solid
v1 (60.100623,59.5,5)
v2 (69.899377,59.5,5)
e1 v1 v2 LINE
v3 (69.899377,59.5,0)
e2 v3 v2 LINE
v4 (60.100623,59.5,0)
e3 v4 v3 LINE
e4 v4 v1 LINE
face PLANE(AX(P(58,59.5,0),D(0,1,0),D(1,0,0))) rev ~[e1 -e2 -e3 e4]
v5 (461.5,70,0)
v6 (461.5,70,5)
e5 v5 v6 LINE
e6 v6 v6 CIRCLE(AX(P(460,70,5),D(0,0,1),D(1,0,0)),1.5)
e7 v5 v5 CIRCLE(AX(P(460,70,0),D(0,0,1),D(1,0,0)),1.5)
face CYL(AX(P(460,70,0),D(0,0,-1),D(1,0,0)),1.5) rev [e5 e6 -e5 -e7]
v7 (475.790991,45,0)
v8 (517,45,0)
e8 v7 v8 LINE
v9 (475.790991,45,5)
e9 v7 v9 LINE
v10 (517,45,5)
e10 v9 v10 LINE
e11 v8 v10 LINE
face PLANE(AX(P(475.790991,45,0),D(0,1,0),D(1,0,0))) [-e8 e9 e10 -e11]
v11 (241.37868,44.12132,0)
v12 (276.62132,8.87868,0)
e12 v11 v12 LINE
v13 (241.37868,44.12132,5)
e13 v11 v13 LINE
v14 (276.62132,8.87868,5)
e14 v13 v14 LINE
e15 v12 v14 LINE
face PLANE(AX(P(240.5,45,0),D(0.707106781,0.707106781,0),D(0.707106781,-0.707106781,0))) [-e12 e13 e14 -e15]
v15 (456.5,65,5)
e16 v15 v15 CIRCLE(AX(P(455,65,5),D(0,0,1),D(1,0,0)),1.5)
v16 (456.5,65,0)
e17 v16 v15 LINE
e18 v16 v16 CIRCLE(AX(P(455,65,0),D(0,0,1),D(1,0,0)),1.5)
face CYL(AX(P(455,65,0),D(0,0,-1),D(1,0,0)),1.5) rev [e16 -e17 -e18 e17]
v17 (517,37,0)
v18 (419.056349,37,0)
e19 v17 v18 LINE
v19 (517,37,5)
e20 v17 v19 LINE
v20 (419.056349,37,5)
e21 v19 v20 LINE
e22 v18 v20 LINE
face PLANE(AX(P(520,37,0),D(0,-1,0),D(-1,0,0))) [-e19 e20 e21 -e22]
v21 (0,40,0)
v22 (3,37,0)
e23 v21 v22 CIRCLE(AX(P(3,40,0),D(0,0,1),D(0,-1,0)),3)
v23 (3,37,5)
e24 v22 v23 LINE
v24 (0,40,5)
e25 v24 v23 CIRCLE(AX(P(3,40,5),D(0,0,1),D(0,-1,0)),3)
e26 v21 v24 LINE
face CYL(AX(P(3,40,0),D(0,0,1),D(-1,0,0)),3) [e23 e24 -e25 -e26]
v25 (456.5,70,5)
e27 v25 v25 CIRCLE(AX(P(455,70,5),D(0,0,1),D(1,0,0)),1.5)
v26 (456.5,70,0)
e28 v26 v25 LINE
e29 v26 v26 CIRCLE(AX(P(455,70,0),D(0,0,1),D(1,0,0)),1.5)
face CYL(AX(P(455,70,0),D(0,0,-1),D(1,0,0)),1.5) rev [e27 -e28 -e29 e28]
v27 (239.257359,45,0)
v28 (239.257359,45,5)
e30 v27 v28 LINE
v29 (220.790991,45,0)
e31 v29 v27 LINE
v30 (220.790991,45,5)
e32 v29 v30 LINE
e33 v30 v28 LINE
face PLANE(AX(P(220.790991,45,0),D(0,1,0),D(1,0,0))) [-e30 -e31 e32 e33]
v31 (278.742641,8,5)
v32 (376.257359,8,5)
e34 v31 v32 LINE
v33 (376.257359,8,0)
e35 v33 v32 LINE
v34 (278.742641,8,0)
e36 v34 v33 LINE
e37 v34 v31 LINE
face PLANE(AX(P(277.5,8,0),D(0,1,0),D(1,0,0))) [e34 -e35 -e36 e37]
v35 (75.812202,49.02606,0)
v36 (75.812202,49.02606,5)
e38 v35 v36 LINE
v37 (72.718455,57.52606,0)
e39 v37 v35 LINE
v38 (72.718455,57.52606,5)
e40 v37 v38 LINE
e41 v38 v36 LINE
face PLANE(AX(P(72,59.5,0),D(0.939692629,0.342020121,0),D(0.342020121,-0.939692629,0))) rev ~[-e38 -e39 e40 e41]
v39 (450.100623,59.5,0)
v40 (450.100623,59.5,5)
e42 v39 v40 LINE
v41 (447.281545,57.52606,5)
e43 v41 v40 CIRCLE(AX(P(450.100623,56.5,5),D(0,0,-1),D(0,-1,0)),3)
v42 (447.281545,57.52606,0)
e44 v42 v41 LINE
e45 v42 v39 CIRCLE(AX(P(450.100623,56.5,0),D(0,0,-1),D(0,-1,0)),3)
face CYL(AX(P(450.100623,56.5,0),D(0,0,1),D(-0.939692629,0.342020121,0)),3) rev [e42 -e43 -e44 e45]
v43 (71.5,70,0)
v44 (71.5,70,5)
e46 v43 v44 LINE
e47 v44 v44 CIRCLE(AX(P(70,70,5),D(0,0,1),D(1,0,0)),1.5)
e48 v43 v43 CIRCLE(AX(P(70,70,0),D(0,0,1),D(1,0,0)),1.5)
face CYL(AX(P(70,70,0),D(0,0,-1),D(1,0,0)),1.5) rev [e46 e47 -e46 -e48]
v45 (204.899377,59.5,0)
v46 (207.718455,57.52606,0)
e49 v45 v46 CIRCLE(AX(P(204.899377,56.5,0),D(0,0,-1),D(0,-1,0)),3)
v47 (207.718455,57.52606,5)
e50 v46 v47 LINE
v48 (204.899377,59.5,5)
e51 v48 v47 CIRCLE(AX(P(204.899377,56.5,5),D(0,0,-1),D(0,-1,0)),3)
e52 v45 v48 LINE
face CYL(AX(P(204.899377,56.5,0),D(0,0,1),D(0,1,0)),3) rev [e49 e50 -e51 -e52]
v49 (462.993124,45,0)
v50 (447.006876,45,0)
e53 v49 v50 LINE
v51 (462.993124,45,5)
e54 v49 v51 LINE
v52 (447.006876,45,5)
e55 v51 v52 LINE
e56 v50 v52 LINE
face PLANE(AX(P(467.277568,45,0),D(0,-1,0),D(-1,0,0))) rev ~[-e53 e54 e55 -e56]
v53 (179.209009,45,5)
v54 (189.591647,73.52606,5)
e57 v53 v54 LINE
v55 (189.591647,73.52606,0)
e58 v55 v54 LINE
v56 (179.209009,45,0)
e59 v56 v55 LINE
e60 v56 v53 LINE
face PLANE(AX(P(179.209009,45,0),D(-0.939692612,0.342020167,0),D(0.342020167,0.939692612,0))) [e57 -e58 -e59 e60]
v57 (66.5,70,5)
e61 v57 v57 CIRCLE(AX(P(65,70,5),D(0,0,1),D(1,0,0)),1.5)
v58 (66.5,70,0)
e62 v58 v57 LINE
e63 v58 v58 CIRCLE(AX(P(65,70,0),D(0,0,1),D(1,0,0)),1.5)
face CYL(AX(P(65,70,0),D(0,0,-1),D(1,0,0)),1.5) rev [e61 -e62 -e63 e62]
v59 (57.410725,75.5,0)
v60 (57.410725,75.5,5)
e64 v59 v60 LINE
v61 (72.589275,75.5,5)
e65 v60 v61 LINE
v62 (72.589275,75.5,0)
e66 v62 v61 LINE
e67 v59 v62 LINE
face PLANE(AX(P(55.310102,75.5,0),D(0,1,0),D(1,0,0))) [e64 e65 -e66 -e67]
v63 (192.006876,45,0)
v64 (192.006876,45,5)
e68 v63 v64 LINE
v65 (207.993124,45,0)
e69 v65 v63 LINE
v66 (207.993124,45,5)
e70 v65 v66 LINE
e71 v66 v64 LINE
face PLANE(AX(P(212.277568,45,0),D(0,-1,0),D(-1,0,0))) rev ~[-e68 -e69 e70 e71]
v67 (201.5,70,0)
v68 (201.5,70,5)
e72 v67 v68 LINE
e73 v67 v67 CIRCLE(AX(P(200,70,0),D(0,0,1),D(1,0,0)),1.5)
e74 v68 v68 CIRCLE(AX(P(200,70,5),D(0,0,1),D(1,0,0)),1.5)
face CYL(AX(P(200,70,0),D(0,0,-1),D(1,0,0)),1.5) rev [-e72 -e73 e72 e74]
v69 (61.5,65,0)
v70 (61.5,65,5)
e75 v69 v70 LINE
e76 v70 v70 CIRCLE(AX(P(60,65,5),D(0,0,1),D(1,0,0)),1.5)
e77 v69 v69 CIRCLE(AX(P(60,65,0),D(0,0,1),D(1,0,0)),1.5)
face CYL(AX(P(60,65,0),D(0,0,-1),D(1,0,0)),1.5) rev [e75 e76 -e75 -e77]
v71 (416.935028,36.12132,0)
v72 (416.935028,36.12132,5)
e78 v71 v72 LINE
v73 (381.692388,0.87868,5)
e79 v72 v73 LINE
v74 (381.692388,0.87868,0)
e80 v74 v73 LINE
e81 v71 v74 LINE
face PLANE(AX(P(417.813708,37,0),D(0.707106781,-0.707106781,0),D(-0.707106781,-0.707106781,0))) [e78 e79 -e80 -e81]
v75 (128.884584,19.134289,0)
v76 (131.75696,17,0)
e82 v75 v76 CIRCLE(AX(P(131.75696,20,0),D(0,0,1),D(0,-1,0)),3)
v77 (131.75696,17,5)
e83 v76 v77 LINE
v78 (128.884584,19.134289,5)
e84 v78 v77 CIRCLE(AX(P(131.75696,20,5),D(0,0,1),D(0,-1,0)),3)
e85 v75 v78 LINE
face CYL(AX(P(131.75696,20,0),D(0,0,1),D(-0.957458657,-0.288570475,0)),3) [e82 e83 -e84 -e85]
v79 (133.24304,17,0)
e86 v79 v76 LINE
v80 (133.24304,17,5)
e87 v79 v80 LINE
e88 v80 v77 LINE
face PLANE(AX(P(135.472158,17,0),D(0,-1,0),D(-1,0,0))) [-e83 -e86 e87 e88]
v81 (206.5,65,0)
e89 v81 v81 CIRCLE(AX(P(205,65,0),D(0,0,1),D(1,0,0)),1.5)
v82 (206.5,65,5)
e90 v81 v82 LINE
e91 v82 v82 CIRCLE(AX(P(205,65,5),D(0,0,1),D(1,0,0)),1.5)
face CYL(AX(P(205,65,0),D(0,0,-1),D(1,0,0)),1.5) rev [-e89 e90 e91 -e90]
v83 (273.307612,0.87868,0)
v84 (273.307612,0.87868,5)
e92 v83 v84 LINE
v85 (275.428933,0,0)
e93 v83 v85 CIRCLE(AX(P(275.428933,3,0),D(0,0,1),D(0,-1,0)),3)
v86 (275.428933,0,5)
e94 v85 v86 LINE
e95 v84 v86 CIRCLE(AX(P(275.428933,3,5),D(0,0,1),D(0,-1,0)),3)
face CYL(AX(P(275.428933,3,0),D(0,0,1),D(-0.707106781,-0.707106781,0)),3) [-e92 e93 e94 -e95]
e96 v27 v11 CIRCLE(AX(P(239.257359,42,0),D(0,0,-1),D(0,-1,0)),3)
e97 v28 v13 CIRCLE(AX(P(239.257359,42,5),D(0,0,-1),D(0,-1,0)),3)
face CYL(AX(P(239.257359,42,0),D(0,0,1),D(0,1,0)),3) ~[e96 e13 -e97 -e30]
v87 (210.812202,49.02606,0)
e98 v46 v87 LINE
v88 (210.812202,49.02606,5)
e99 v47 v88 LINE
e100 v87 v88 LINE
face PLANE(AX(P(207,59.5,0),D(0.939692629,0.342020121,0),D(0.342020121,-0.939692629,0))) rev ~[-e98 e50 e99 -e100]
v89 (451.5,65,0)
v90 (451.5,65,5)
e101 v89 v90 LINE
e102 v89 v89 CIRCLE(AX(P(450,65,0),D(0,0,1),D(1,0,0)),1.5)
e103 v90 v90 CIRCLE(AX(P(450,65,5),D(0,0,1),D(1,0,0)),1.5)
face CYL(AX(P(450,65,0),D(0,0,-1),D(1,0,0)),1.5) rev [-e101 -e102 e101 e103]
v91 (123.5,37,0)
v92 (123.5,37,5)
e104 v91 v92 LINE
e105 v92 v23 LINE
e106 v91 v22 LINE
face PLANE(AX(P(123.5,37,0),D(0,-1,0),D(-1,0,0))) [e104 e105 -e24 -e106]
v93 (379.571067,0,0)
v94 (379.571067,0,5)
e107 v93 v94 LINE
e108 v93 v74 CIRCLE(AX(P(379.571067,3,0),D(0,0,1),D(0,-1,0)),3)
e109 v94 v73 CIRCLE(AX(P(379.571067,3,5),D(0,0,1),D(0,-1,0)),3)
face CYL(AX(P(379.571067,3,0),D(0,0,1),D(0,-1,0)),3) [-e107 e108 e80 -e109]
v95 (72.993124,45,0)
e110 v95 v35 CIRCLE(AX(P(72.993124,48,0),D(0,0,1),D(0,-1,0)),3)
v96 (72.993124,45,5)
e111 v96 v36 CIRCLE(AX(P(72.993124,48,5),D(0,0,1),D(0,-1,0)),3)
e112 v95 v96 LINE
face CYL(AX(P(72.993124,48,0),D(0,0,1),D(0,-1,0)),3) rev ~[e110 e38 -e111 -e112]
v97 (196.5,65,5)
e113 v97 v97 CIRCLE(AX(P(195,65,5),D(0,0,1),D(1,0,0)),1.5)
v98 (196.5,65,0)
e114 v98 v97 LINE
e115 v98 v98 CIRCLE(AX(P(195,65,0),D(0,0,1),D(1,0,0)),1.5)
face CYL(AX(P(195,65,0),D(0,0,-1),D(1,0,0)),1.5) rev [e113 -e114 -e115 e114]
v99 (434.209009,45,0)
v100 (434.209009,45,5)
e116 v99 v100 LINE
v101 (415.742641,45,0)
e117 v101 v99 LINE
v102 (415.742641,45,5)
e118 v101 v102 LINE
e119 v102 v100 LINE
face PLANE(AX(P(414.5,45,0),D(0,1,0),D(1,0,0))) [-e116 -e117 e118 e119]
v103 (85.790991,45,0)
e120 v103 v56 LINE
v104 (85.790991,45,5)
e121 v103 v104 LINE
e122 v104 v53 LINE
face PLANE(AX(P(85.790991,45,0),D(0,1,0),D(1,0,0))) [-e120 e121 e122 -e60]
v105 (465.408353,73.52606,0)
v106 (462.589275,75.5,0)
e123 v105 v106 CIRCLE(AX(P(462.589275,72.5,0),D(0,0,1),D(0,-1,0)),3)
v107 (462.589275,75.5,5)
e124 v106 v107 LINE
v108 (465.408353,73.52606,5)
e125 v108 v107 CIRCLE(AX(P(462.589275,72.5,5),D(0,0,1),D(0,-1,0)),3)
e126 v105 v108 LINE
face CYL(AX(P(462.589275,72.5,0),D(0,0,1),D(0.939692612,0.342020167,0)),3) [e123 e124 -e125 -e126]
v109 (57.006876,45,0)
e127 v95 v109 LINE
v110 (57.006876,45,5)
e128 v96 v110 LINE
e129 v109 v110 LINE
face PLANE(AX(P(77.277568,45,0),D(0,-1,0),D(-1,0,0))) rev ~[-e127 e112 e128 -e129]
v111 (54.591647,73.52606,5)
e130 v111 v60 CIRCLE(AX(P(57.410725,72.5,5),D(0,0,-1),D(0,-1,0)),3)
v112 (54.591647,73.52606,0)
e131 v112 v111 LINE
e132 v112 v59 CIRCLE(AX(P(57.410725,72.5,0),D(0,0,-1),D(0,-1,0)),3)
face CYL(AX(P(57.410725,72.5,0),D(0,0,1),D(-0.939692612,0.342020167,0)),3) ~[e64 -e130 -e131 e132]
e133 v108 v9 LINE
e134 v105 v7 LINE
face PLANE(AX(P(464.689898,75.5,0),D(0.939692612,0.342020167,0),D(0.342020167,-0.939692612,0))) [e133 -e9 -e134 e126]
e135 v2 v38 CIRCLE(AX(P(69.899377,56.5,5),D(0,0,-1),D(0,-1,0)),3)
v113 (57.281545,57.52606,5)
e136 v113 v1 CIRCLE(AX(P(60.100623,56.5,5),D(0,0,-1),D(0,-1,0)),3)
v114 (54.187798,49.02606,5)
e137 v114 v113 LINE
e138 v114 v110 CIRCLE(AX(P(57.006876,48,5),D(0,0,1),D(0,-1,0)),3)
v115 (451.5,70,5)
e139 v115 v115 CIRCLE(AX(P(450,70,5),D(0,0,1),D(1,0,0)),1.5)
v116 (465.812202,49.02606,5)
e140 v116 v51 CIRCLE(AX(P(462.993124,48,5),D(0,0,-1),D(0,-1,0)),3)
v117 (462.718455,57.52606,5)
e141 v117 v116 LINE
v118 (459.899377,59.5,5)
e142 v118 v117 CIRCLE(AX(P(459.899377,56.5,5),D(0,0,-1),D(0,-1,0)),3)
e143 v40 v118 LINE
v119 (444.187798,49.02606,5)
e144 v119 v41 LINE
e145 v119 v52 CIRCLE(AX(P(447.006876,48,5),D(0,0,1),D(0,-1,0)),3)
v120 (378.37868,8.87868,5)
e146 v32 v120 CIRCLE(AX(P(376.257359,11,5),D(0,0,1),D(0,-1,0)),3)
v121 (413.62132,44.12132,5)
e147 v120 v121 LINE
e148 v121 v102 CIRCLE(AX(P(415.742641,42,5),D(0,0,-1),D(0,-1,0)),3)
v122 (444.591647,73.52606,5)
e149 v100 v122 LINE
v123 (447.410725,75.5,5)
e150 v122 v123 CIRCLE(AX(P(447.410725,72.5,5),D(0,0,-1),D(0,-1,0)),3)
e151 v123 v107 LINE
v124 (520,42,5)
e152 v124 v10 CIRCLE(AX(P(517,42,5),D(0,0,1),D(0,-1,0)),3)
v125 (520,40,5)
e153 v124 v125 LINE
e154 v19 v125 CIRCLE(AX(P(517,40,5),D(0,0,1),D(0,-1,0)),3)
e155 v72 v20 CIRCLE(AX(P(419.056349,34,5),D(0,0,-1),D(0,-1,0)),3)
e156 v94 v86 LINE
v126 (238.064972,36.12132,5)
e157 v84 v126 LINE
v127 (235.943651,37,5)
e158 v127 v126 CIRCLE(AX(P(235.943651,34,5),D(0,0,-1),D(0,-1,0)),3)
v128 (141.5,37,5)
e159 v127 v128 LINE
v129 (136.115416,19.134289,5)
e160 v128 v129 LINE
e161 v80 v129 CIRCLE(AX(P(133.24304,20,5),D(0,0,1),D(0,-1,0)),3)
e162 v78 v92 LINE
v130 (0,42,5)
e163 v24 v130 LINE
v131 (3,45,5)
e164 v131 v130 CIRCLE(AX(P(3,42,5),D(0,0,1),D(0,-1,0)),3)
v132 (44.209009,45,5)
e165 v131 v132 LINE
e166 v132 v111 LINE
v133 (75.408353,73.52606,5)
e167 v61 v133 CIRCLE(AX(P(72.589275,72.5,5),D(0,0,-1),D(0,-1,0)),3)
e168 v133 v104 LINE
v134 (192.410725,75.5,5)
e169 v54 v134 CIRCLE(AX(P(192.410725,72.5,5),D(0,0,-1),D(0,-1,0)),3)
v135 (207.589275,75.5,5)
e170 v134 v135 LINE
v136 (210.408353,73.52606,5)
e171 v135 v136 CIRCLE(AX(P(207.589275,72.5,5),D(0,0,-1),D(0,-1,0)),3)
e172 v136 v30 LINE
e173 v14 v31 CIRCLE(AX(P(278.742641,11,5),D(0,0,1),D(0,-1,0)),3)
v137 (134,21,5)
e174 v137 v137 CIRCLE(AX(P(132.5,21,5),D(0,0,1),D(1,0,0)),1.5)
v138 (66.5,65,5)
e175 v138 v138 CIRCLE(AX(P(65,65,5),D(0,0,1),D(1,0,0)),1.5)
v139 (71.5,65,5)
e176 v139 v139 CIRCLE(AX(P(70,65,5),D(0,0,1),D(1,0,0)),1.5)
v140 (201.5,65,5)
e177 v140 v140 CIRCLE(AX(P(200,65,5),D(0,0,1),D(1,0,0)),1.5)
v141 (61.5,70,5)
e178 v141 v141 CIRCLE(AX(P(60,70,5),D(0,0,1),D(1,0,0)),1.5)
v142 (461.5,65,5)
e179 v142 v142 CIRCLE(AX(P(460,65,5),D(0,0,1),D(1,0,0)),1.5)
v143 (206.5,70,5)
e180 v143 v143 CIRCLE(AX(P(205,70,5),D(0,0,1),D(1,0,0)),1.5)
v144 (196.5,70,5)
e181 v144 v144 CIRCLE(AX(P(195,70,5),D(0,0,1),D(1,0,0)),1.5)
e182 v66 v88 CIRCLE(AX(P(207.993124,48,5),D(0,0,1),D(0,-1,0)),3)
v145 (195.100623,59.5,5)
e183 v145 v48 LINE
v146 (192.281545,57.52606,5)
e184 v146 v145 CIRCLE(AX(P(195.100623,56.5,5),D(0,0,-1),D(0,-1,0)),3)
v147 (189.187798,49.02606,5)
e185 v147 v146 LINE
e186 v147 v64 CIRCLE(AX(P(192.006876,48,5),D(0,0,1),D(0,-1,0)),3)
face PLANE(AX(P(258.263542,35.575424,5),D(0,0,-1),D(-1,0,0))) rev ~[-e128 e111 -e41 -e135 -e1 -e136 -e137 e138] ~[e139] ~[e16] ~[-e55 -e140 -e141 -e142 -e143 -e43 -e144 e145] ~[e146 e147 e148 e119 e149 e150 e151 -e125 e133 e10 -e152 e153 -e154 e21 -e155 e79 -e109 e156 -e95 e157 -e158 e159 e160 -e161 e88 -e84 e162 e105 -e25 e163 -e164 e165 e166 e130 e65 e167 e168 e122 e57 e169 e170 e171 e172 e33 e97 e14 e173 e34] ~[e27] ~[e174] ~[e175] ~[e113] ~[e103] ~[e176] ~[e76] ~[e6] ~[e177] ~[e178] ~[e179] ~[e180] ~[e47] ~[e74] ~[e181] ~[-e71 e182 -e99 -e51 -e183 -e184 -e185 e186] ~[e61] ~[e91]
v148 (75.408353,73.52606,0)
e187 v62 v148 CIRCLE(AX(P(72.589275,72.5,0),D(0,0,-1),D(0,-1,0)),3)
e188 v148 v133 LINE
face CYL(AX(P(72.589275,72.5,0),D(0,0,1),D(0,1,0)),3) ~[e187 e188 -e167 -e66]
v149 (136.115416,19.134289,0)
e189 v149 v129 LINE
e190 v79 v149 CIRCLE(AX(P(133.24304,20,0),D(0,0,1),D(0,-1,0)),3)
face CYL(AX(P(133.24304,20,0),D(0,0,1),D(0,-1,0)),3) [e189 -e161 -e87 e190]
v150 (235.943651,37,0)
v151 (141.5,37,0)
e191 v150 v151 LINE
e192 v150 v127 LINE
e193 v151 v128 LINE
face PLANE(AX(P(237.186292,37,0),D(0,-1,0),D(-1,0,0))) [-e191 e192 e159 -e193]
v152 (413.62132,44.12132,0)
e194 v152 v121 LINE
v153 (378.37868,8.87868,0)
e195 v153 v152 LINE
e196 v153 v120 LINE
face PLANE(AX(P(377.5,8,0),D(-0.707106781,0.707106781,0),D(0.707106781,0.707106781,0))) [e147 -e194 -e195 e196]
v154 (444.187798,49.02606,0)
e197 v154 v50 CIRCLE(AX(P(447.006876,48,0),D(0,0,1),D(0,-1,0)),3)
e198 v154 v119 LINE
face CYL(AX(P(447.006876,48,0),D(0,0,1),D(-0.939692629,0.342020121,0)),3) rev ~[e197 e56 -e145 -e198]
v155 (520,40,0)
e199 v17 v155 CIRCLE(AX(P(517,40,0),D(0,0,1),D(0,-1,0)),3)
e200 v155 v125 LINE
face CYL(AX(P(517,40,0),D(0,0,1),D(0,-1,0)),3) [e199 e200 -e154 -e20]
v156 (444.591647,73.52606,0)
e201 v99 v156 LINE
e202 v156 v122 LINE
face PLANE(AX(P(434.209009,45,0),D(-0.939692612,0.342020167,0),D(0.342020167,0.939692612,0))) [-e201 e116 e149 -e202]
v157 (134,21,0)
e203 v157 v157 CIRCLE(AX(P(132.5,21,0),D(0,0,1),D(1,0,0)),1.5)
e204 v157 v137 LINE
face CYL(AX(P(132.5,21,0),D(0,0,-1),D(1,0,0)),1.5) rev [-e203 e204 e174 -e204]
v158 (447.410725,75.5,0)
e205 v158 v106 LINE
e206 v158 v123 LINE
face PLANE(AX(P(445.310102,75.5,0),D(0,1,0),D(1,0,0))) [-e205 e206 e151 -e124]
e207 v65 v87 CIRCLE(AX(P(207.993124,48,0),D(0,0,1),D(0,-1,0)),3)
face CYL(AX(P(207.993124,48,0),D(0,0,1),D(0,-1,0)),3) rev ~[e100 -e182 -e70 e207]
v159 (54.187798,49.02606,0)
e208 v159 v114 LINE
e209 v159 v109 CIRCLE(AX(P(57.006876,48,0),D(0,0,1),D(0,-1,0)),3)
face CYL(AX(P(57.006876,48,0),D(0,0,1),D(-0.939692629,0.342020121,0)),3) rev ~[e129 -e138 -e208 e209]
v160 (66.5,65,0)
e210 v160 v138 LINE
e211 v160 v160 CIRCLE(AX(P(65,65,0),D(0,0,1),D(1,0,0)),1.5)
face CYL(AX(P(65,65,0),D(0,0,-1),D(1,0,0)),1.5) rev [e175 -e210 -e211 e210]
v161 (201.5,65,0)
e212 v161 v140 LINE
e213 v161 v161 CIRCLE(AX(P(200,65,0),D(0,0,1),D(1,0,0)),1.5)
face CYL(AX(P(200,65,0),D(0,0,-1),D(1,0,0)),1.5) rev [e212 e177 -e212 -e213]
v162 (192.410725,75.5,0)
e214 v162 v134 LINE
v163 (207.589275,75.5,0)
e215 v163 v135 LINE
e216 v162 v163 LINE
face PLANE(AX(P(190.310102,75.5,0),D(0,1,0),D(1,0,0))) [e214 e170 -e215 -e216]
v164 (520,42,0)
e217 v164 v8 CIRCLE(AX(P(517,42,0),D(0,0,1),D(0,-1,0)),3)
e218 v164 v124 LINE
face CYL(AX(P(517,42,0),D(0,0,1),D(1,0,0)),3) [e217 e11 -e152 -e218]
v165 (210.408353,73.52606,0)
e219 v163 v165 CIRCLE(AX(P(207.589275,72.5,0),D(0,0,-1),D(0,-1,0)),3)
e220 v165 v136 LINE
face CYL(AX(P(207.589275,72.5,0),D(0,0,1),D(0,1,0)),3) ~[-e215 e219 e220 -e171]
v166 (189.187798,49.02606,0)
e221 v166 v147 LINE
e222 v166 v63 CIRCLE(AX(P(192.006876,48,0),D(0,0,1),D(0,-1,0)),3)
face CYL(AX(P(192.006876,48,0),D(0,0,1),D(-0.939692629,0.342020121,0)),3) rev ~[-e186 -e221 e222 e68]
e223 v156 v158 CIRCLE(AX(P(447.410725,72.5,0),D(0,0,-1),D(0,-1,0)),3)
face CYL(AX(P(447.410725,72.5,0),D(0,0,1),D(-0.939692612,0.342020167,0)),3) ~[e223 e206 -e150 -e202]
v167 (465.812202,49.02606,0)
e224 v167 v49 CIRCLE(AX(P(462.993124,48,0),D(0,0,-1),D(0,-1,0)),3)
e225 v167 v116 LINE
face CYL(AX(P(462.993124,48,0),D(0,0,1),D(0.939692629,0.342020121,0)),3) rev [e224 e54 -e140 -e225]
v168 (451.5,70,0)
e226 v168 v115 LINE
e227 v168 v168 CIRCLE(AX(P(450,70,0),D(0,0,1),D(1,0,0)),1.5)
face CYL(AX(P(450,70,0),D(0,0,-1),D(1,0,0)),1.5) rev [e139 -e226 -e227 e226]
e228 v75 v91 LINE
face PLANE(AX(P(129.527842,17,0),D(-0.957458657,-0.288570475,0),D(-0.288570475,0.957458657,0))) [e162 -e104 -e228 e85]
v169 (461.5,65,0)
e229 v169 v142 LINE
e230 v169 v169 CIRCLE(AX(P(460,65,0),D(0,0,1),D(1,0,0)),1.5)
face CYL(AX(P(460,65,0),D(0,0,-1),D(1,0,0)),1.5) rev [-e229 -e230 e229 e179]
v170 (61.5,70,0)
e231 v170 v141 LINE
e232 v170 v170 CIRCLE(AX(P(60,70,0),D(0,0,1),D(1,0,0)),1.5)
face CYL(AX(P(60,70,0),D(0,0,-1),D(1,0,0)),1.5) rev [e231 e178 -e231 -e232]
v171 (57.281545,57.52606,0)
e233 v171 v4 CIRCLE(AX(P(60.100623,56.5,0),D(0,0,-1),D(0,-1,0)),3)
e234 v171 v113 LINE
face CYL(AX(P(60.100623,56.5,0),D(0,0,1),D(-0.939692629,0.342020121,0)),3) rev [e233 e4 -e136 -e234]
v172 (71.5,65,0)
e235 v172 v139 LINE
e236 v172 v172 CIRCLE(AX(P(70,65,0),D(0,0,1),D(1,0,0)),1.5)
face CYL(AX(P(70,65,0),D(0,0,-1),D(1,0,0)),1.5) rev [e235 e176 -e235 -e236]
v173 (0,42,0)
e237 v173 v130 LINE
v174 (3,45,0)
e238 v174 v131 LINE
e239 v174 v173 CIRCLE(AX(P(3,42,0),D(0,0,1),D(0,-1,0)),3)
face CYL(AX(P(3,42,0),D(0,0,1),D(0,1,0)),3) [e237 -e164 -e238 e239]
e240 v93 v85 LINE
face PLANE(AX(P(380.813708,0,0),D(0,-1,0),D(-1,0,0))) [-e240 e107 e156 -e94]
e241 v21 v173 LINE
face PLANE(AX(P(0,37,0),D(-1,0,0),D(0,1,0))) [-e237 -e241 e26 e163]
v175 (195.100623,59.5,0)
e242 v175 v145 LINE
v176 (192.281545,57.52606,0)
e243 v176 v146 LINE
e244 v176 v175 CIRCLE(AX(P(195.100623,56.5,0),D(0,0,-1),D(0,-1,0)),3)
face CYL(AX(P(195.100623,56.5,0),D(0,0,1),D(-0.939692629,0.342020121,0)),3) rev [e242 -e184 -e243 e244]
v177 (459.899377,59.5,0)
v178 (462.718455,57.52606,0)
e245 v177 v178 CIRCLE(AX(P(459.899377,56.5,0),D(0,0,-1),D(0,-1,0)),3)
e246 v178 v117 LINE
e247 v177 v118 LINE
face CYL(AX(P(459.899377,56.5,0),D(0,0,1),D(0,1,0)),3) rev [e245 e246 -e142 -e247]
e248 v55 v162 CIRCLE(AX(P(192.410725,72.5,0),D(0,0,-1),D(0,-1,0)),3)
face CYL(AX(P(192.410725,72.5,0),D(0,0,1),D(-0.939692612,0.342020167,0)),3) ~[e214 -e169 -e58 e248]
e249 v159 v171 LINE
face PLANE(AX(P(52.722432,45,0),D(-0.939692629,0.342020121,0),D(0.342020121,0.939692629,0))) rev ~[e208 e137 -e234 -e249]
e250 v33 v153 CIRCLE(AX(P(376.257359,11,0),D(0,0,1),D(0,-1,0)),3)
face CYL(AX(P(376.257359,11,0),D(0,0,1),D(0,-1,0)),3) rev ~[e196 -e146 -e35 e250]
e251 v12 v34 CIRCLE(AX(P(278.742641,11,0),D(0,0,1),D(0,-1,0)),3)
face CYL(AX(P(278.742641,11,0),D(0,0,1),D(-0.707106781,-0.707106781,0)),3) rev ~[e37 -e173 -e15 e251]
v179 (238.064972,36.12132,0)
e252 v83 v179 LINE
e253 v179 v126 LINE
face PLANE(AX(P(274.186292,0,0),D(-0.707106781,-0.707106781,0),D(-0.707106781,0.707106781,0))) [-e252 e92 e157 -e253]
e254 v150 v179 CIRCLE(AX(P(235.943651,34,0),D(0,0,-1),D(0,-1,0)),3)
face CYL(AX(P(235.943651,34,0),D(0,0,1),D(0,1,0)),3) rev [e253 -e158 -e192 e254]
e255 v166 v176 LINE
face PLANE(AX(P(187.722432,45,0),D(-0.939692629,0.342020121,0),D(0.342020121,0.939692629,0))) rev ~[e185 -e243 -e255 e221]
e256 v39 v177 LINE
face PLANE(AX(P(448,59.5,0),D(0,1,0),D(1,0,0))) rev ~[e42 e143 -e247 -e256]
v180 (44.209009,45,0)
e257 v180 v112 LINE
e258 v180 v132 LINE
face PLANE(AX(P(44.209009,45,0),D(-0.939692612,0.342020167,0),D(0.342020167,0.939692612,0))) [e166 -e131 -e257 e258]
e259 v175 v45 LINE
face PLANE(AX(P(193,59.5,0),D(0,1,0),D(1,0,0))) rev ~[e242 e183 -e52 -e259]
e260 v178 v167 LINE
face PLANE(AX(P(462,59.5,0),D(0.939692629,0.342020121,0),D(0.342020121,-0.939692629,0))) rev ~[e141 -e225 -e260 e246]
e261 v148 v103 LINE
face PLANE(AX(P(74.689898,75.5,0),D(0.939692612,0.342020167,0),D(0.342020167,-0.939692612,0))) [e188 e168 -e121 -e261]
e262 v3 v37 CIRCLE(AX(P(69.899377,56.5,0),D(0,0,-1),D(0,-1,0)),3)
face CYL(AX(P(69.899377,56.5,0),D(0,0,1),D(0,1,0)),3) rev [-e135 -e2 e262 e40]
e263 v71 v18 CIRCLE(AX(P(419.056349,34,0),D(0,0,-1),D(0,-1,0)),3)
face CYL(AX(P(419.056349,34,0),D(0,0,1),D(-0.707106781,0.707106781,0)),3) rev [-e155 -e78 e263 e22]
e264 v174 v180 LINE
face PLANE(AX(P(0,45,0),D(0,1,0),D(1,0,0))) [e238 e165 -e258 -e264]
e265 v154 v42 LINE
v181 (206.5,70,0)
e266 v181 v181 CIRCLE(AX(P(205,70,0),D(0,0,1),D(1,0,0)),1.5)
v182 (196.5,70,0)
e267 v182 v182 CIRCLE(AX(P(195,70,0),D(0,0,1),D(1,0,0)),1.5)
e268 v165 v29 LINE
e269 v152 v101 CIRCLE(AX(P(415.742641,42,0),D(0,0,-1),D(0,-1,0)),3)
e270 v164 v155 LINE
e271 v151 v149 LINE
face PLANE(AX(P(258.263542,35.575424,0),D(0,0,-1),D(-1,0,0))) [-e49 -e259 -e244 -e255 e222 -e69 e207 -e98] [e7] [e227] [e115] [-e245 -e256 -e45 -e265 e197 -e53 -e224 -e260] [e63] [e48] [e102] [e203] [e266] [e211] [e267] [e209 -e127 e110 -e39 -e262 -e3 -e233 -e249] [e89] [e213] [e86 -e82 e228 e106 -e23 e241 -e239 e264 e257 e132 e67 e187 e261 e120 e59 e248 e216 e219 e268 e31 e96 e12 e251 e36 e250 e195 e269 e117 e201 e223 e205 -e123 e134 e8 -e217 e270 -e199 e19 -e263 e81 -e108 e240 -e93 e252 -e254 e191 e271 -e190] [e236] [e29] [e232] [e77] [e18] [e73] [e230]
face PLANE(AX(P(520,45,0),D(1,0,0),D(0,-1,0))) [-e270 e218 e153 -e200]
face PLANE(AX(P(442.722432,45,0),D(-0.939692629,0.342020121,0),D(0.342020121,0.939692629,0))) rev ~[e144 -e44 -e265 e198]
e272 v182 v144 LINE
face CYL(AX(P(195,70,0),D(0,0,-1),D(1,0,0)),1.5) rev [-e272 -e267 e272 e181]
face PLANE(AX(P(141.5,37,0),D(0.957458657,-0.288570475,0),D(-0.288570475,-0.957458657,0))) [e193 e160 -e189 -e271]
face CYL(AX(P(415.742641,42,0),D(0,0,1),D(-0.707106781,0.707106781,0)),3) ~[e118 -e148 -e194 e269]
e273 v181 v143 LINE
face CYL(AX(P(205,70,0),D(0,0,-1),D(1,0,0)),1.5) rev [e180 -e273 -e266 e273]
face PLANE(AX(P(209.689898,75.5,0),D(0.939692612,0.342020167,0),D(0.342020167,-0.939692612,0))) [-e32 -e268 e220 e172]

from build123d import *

# Parameters (mm, degrees)
SKETCH_R  = 1.5
PAD_DEPTH = 5
FILLET_R  = 3


with BuildPart() as part:
    # Sketch → Pad (new body)
    with BuildSketch(Plane.XY):
        Polygon((0, 45), (44.209009, 45), (55.310102, 75.5), (74.689898, 75.5), (85.790991, 45), (179.209009, 45), (190.310102, 75.5), (209.689898, 75.5), (220.790991, 45), (240.5, 45), (277.5, 8), (377.5, 8), (414.5, 45), (434.209009, 45), (445.310102, 75.5), (464.689898, 75.5), (475.790991, 45), (520, 45), (520, 37), (417.813708, 37), (380.813708, 0), (274.186292, 0), (237.186292, 37), (141.5, 37), (135.472158, 17), (129.527842, 17), (123.5, 37), (0, 37), align=None)
        with Locations((60, 70)):
            Circle(SKETCH_R, mode=Mode.SUBTRACT)
        with Locations((65, 70)):
            Circle(SKETCH_R, mode=Mode.SUBTRACT)
        with Locations((70, 70)):
            Circle(SKETCH_R, mode=Mode.SUBTRACT)
        with Locations((60, 65)):
            Circle(SKETCH_R, mode=Mode.SUBTRACT)
        with Locations((65, 65)):
            Circle(SKETCH_R, mode=Mode.SUBTRACT)
        with Locations((70, 65)):
            Circle(SKETCH_R, mode=Mode.SUBTRACT)
        with Locations((195, 70)):
            Circle(SKETCH_R, mode=Mode.SUBTRACT)
        with Locations((200, 70)):
            Circle(SKETCH_R, mode=Mode.SUBTRACT)
        with Locations((205, 70)):
            Circle(SKETCH_R, mode=Mode.SUBTRACT)
        with Locations((195, 65)):
            Circle(SKETCH_R, mode=Mode.SUBTRACT)
        with Locations((200, 65)):
            Circle(SKETCH_R, mode=Mode.SUBTRACT)
        with Locations((205, 65)):
            Circle(SKETCH_R, mode=Mode.SUBTRACT)
        with Locations((450, 70)):
            Circle(SKETCH_R, mode=Mode.SUBTRACT)
        with Locations((455, 70)):
            Circle(SKETCH_R, mode=Mode.SUBTRACT)
        with Locations((460, 70)):
            Circle(SKETCH_R, mode=Mode.SUBTRACT)
        with Locations((450, 65)):
            Circle(SKETCH_R, mode=Mode.SUBTRACT)
        with Locations((455, 65)):
            Circle(SKETCH_R, mode=Mode.SUBTRACT)
        with Locations((460, 65)):
            Circle(SKETCH_R, mode=Mode.SUBTRACT)
        with Locations((132.5, 21)):
            Circle(SKETCH_R, mode=Mode.SUBTRACT)
        Polygon((52.722432, 45), (58, 59.5), (72, 59.5), (77.277568, 45), align=None, mode=Mode.SUBTRACT)
        Polygon((187.722432, 45), (193, 59.5), (207, 59.5), (212.277568, 45), align=None, mode=Mode.SUBTRACT)
        Polygon((442.722432, 45), (448, 59.5), (462, 59.5), (467.277568, 45), align=None, mode=Mode.SUBTRACT)
    extrude(amount=PAD_DEPTH)

    # Fillet
    fillet_edges = [part.edges().sort_by_distance(p)[0] for p in [
        (0, 45, 2.5),
        (55.310102, 75.5, 2.5),
        (74.689898, 75.5, 2.5),
        (190.310102, 75.5, 2.5),
        (209.689898, 75.5, 2.5),
        (240.5, 45, 2.5),
        (277.5, 8, 2.5),
        (377.5, 8, 2.5),
        (414.5, 45, 2.5),
        (445.310102, 75.5, 2.5),
        (464.689898, 75.5, 2.5),
        (520, 45, 2.5),
        (520, 37, 2.5),
        (417.813708, 37, 2.5),
        (380.813708, 0, 2.5),
        (274.186292, 0, 2.5),
        (237.186292, 37, 2.5),
        (135.472158, 17, 2.5),
        (129.527842, 17, 2.5),
        (0, 37, 2.5),
        (187.722432, 45, 2.5),
        (193, 59.5, 2.5),
        (207, 59.5, 2.5),
        (212.277568, 45, 2.5),
        (52.722432, 45, 2.5),
        (58, 59.5, 2.5),
        (72, 59.5, 2.5),
        (77.277568, 45, 2.5),
        (442.722432, 45, 2.5),
        (448, 59.5, 2.5),
        (462, 59.5, 2.5),
        (467.277568, 45, 2.5),
    ]]
    fillet(fillet_edges, radius=FILLET_R)


solid = part.part
